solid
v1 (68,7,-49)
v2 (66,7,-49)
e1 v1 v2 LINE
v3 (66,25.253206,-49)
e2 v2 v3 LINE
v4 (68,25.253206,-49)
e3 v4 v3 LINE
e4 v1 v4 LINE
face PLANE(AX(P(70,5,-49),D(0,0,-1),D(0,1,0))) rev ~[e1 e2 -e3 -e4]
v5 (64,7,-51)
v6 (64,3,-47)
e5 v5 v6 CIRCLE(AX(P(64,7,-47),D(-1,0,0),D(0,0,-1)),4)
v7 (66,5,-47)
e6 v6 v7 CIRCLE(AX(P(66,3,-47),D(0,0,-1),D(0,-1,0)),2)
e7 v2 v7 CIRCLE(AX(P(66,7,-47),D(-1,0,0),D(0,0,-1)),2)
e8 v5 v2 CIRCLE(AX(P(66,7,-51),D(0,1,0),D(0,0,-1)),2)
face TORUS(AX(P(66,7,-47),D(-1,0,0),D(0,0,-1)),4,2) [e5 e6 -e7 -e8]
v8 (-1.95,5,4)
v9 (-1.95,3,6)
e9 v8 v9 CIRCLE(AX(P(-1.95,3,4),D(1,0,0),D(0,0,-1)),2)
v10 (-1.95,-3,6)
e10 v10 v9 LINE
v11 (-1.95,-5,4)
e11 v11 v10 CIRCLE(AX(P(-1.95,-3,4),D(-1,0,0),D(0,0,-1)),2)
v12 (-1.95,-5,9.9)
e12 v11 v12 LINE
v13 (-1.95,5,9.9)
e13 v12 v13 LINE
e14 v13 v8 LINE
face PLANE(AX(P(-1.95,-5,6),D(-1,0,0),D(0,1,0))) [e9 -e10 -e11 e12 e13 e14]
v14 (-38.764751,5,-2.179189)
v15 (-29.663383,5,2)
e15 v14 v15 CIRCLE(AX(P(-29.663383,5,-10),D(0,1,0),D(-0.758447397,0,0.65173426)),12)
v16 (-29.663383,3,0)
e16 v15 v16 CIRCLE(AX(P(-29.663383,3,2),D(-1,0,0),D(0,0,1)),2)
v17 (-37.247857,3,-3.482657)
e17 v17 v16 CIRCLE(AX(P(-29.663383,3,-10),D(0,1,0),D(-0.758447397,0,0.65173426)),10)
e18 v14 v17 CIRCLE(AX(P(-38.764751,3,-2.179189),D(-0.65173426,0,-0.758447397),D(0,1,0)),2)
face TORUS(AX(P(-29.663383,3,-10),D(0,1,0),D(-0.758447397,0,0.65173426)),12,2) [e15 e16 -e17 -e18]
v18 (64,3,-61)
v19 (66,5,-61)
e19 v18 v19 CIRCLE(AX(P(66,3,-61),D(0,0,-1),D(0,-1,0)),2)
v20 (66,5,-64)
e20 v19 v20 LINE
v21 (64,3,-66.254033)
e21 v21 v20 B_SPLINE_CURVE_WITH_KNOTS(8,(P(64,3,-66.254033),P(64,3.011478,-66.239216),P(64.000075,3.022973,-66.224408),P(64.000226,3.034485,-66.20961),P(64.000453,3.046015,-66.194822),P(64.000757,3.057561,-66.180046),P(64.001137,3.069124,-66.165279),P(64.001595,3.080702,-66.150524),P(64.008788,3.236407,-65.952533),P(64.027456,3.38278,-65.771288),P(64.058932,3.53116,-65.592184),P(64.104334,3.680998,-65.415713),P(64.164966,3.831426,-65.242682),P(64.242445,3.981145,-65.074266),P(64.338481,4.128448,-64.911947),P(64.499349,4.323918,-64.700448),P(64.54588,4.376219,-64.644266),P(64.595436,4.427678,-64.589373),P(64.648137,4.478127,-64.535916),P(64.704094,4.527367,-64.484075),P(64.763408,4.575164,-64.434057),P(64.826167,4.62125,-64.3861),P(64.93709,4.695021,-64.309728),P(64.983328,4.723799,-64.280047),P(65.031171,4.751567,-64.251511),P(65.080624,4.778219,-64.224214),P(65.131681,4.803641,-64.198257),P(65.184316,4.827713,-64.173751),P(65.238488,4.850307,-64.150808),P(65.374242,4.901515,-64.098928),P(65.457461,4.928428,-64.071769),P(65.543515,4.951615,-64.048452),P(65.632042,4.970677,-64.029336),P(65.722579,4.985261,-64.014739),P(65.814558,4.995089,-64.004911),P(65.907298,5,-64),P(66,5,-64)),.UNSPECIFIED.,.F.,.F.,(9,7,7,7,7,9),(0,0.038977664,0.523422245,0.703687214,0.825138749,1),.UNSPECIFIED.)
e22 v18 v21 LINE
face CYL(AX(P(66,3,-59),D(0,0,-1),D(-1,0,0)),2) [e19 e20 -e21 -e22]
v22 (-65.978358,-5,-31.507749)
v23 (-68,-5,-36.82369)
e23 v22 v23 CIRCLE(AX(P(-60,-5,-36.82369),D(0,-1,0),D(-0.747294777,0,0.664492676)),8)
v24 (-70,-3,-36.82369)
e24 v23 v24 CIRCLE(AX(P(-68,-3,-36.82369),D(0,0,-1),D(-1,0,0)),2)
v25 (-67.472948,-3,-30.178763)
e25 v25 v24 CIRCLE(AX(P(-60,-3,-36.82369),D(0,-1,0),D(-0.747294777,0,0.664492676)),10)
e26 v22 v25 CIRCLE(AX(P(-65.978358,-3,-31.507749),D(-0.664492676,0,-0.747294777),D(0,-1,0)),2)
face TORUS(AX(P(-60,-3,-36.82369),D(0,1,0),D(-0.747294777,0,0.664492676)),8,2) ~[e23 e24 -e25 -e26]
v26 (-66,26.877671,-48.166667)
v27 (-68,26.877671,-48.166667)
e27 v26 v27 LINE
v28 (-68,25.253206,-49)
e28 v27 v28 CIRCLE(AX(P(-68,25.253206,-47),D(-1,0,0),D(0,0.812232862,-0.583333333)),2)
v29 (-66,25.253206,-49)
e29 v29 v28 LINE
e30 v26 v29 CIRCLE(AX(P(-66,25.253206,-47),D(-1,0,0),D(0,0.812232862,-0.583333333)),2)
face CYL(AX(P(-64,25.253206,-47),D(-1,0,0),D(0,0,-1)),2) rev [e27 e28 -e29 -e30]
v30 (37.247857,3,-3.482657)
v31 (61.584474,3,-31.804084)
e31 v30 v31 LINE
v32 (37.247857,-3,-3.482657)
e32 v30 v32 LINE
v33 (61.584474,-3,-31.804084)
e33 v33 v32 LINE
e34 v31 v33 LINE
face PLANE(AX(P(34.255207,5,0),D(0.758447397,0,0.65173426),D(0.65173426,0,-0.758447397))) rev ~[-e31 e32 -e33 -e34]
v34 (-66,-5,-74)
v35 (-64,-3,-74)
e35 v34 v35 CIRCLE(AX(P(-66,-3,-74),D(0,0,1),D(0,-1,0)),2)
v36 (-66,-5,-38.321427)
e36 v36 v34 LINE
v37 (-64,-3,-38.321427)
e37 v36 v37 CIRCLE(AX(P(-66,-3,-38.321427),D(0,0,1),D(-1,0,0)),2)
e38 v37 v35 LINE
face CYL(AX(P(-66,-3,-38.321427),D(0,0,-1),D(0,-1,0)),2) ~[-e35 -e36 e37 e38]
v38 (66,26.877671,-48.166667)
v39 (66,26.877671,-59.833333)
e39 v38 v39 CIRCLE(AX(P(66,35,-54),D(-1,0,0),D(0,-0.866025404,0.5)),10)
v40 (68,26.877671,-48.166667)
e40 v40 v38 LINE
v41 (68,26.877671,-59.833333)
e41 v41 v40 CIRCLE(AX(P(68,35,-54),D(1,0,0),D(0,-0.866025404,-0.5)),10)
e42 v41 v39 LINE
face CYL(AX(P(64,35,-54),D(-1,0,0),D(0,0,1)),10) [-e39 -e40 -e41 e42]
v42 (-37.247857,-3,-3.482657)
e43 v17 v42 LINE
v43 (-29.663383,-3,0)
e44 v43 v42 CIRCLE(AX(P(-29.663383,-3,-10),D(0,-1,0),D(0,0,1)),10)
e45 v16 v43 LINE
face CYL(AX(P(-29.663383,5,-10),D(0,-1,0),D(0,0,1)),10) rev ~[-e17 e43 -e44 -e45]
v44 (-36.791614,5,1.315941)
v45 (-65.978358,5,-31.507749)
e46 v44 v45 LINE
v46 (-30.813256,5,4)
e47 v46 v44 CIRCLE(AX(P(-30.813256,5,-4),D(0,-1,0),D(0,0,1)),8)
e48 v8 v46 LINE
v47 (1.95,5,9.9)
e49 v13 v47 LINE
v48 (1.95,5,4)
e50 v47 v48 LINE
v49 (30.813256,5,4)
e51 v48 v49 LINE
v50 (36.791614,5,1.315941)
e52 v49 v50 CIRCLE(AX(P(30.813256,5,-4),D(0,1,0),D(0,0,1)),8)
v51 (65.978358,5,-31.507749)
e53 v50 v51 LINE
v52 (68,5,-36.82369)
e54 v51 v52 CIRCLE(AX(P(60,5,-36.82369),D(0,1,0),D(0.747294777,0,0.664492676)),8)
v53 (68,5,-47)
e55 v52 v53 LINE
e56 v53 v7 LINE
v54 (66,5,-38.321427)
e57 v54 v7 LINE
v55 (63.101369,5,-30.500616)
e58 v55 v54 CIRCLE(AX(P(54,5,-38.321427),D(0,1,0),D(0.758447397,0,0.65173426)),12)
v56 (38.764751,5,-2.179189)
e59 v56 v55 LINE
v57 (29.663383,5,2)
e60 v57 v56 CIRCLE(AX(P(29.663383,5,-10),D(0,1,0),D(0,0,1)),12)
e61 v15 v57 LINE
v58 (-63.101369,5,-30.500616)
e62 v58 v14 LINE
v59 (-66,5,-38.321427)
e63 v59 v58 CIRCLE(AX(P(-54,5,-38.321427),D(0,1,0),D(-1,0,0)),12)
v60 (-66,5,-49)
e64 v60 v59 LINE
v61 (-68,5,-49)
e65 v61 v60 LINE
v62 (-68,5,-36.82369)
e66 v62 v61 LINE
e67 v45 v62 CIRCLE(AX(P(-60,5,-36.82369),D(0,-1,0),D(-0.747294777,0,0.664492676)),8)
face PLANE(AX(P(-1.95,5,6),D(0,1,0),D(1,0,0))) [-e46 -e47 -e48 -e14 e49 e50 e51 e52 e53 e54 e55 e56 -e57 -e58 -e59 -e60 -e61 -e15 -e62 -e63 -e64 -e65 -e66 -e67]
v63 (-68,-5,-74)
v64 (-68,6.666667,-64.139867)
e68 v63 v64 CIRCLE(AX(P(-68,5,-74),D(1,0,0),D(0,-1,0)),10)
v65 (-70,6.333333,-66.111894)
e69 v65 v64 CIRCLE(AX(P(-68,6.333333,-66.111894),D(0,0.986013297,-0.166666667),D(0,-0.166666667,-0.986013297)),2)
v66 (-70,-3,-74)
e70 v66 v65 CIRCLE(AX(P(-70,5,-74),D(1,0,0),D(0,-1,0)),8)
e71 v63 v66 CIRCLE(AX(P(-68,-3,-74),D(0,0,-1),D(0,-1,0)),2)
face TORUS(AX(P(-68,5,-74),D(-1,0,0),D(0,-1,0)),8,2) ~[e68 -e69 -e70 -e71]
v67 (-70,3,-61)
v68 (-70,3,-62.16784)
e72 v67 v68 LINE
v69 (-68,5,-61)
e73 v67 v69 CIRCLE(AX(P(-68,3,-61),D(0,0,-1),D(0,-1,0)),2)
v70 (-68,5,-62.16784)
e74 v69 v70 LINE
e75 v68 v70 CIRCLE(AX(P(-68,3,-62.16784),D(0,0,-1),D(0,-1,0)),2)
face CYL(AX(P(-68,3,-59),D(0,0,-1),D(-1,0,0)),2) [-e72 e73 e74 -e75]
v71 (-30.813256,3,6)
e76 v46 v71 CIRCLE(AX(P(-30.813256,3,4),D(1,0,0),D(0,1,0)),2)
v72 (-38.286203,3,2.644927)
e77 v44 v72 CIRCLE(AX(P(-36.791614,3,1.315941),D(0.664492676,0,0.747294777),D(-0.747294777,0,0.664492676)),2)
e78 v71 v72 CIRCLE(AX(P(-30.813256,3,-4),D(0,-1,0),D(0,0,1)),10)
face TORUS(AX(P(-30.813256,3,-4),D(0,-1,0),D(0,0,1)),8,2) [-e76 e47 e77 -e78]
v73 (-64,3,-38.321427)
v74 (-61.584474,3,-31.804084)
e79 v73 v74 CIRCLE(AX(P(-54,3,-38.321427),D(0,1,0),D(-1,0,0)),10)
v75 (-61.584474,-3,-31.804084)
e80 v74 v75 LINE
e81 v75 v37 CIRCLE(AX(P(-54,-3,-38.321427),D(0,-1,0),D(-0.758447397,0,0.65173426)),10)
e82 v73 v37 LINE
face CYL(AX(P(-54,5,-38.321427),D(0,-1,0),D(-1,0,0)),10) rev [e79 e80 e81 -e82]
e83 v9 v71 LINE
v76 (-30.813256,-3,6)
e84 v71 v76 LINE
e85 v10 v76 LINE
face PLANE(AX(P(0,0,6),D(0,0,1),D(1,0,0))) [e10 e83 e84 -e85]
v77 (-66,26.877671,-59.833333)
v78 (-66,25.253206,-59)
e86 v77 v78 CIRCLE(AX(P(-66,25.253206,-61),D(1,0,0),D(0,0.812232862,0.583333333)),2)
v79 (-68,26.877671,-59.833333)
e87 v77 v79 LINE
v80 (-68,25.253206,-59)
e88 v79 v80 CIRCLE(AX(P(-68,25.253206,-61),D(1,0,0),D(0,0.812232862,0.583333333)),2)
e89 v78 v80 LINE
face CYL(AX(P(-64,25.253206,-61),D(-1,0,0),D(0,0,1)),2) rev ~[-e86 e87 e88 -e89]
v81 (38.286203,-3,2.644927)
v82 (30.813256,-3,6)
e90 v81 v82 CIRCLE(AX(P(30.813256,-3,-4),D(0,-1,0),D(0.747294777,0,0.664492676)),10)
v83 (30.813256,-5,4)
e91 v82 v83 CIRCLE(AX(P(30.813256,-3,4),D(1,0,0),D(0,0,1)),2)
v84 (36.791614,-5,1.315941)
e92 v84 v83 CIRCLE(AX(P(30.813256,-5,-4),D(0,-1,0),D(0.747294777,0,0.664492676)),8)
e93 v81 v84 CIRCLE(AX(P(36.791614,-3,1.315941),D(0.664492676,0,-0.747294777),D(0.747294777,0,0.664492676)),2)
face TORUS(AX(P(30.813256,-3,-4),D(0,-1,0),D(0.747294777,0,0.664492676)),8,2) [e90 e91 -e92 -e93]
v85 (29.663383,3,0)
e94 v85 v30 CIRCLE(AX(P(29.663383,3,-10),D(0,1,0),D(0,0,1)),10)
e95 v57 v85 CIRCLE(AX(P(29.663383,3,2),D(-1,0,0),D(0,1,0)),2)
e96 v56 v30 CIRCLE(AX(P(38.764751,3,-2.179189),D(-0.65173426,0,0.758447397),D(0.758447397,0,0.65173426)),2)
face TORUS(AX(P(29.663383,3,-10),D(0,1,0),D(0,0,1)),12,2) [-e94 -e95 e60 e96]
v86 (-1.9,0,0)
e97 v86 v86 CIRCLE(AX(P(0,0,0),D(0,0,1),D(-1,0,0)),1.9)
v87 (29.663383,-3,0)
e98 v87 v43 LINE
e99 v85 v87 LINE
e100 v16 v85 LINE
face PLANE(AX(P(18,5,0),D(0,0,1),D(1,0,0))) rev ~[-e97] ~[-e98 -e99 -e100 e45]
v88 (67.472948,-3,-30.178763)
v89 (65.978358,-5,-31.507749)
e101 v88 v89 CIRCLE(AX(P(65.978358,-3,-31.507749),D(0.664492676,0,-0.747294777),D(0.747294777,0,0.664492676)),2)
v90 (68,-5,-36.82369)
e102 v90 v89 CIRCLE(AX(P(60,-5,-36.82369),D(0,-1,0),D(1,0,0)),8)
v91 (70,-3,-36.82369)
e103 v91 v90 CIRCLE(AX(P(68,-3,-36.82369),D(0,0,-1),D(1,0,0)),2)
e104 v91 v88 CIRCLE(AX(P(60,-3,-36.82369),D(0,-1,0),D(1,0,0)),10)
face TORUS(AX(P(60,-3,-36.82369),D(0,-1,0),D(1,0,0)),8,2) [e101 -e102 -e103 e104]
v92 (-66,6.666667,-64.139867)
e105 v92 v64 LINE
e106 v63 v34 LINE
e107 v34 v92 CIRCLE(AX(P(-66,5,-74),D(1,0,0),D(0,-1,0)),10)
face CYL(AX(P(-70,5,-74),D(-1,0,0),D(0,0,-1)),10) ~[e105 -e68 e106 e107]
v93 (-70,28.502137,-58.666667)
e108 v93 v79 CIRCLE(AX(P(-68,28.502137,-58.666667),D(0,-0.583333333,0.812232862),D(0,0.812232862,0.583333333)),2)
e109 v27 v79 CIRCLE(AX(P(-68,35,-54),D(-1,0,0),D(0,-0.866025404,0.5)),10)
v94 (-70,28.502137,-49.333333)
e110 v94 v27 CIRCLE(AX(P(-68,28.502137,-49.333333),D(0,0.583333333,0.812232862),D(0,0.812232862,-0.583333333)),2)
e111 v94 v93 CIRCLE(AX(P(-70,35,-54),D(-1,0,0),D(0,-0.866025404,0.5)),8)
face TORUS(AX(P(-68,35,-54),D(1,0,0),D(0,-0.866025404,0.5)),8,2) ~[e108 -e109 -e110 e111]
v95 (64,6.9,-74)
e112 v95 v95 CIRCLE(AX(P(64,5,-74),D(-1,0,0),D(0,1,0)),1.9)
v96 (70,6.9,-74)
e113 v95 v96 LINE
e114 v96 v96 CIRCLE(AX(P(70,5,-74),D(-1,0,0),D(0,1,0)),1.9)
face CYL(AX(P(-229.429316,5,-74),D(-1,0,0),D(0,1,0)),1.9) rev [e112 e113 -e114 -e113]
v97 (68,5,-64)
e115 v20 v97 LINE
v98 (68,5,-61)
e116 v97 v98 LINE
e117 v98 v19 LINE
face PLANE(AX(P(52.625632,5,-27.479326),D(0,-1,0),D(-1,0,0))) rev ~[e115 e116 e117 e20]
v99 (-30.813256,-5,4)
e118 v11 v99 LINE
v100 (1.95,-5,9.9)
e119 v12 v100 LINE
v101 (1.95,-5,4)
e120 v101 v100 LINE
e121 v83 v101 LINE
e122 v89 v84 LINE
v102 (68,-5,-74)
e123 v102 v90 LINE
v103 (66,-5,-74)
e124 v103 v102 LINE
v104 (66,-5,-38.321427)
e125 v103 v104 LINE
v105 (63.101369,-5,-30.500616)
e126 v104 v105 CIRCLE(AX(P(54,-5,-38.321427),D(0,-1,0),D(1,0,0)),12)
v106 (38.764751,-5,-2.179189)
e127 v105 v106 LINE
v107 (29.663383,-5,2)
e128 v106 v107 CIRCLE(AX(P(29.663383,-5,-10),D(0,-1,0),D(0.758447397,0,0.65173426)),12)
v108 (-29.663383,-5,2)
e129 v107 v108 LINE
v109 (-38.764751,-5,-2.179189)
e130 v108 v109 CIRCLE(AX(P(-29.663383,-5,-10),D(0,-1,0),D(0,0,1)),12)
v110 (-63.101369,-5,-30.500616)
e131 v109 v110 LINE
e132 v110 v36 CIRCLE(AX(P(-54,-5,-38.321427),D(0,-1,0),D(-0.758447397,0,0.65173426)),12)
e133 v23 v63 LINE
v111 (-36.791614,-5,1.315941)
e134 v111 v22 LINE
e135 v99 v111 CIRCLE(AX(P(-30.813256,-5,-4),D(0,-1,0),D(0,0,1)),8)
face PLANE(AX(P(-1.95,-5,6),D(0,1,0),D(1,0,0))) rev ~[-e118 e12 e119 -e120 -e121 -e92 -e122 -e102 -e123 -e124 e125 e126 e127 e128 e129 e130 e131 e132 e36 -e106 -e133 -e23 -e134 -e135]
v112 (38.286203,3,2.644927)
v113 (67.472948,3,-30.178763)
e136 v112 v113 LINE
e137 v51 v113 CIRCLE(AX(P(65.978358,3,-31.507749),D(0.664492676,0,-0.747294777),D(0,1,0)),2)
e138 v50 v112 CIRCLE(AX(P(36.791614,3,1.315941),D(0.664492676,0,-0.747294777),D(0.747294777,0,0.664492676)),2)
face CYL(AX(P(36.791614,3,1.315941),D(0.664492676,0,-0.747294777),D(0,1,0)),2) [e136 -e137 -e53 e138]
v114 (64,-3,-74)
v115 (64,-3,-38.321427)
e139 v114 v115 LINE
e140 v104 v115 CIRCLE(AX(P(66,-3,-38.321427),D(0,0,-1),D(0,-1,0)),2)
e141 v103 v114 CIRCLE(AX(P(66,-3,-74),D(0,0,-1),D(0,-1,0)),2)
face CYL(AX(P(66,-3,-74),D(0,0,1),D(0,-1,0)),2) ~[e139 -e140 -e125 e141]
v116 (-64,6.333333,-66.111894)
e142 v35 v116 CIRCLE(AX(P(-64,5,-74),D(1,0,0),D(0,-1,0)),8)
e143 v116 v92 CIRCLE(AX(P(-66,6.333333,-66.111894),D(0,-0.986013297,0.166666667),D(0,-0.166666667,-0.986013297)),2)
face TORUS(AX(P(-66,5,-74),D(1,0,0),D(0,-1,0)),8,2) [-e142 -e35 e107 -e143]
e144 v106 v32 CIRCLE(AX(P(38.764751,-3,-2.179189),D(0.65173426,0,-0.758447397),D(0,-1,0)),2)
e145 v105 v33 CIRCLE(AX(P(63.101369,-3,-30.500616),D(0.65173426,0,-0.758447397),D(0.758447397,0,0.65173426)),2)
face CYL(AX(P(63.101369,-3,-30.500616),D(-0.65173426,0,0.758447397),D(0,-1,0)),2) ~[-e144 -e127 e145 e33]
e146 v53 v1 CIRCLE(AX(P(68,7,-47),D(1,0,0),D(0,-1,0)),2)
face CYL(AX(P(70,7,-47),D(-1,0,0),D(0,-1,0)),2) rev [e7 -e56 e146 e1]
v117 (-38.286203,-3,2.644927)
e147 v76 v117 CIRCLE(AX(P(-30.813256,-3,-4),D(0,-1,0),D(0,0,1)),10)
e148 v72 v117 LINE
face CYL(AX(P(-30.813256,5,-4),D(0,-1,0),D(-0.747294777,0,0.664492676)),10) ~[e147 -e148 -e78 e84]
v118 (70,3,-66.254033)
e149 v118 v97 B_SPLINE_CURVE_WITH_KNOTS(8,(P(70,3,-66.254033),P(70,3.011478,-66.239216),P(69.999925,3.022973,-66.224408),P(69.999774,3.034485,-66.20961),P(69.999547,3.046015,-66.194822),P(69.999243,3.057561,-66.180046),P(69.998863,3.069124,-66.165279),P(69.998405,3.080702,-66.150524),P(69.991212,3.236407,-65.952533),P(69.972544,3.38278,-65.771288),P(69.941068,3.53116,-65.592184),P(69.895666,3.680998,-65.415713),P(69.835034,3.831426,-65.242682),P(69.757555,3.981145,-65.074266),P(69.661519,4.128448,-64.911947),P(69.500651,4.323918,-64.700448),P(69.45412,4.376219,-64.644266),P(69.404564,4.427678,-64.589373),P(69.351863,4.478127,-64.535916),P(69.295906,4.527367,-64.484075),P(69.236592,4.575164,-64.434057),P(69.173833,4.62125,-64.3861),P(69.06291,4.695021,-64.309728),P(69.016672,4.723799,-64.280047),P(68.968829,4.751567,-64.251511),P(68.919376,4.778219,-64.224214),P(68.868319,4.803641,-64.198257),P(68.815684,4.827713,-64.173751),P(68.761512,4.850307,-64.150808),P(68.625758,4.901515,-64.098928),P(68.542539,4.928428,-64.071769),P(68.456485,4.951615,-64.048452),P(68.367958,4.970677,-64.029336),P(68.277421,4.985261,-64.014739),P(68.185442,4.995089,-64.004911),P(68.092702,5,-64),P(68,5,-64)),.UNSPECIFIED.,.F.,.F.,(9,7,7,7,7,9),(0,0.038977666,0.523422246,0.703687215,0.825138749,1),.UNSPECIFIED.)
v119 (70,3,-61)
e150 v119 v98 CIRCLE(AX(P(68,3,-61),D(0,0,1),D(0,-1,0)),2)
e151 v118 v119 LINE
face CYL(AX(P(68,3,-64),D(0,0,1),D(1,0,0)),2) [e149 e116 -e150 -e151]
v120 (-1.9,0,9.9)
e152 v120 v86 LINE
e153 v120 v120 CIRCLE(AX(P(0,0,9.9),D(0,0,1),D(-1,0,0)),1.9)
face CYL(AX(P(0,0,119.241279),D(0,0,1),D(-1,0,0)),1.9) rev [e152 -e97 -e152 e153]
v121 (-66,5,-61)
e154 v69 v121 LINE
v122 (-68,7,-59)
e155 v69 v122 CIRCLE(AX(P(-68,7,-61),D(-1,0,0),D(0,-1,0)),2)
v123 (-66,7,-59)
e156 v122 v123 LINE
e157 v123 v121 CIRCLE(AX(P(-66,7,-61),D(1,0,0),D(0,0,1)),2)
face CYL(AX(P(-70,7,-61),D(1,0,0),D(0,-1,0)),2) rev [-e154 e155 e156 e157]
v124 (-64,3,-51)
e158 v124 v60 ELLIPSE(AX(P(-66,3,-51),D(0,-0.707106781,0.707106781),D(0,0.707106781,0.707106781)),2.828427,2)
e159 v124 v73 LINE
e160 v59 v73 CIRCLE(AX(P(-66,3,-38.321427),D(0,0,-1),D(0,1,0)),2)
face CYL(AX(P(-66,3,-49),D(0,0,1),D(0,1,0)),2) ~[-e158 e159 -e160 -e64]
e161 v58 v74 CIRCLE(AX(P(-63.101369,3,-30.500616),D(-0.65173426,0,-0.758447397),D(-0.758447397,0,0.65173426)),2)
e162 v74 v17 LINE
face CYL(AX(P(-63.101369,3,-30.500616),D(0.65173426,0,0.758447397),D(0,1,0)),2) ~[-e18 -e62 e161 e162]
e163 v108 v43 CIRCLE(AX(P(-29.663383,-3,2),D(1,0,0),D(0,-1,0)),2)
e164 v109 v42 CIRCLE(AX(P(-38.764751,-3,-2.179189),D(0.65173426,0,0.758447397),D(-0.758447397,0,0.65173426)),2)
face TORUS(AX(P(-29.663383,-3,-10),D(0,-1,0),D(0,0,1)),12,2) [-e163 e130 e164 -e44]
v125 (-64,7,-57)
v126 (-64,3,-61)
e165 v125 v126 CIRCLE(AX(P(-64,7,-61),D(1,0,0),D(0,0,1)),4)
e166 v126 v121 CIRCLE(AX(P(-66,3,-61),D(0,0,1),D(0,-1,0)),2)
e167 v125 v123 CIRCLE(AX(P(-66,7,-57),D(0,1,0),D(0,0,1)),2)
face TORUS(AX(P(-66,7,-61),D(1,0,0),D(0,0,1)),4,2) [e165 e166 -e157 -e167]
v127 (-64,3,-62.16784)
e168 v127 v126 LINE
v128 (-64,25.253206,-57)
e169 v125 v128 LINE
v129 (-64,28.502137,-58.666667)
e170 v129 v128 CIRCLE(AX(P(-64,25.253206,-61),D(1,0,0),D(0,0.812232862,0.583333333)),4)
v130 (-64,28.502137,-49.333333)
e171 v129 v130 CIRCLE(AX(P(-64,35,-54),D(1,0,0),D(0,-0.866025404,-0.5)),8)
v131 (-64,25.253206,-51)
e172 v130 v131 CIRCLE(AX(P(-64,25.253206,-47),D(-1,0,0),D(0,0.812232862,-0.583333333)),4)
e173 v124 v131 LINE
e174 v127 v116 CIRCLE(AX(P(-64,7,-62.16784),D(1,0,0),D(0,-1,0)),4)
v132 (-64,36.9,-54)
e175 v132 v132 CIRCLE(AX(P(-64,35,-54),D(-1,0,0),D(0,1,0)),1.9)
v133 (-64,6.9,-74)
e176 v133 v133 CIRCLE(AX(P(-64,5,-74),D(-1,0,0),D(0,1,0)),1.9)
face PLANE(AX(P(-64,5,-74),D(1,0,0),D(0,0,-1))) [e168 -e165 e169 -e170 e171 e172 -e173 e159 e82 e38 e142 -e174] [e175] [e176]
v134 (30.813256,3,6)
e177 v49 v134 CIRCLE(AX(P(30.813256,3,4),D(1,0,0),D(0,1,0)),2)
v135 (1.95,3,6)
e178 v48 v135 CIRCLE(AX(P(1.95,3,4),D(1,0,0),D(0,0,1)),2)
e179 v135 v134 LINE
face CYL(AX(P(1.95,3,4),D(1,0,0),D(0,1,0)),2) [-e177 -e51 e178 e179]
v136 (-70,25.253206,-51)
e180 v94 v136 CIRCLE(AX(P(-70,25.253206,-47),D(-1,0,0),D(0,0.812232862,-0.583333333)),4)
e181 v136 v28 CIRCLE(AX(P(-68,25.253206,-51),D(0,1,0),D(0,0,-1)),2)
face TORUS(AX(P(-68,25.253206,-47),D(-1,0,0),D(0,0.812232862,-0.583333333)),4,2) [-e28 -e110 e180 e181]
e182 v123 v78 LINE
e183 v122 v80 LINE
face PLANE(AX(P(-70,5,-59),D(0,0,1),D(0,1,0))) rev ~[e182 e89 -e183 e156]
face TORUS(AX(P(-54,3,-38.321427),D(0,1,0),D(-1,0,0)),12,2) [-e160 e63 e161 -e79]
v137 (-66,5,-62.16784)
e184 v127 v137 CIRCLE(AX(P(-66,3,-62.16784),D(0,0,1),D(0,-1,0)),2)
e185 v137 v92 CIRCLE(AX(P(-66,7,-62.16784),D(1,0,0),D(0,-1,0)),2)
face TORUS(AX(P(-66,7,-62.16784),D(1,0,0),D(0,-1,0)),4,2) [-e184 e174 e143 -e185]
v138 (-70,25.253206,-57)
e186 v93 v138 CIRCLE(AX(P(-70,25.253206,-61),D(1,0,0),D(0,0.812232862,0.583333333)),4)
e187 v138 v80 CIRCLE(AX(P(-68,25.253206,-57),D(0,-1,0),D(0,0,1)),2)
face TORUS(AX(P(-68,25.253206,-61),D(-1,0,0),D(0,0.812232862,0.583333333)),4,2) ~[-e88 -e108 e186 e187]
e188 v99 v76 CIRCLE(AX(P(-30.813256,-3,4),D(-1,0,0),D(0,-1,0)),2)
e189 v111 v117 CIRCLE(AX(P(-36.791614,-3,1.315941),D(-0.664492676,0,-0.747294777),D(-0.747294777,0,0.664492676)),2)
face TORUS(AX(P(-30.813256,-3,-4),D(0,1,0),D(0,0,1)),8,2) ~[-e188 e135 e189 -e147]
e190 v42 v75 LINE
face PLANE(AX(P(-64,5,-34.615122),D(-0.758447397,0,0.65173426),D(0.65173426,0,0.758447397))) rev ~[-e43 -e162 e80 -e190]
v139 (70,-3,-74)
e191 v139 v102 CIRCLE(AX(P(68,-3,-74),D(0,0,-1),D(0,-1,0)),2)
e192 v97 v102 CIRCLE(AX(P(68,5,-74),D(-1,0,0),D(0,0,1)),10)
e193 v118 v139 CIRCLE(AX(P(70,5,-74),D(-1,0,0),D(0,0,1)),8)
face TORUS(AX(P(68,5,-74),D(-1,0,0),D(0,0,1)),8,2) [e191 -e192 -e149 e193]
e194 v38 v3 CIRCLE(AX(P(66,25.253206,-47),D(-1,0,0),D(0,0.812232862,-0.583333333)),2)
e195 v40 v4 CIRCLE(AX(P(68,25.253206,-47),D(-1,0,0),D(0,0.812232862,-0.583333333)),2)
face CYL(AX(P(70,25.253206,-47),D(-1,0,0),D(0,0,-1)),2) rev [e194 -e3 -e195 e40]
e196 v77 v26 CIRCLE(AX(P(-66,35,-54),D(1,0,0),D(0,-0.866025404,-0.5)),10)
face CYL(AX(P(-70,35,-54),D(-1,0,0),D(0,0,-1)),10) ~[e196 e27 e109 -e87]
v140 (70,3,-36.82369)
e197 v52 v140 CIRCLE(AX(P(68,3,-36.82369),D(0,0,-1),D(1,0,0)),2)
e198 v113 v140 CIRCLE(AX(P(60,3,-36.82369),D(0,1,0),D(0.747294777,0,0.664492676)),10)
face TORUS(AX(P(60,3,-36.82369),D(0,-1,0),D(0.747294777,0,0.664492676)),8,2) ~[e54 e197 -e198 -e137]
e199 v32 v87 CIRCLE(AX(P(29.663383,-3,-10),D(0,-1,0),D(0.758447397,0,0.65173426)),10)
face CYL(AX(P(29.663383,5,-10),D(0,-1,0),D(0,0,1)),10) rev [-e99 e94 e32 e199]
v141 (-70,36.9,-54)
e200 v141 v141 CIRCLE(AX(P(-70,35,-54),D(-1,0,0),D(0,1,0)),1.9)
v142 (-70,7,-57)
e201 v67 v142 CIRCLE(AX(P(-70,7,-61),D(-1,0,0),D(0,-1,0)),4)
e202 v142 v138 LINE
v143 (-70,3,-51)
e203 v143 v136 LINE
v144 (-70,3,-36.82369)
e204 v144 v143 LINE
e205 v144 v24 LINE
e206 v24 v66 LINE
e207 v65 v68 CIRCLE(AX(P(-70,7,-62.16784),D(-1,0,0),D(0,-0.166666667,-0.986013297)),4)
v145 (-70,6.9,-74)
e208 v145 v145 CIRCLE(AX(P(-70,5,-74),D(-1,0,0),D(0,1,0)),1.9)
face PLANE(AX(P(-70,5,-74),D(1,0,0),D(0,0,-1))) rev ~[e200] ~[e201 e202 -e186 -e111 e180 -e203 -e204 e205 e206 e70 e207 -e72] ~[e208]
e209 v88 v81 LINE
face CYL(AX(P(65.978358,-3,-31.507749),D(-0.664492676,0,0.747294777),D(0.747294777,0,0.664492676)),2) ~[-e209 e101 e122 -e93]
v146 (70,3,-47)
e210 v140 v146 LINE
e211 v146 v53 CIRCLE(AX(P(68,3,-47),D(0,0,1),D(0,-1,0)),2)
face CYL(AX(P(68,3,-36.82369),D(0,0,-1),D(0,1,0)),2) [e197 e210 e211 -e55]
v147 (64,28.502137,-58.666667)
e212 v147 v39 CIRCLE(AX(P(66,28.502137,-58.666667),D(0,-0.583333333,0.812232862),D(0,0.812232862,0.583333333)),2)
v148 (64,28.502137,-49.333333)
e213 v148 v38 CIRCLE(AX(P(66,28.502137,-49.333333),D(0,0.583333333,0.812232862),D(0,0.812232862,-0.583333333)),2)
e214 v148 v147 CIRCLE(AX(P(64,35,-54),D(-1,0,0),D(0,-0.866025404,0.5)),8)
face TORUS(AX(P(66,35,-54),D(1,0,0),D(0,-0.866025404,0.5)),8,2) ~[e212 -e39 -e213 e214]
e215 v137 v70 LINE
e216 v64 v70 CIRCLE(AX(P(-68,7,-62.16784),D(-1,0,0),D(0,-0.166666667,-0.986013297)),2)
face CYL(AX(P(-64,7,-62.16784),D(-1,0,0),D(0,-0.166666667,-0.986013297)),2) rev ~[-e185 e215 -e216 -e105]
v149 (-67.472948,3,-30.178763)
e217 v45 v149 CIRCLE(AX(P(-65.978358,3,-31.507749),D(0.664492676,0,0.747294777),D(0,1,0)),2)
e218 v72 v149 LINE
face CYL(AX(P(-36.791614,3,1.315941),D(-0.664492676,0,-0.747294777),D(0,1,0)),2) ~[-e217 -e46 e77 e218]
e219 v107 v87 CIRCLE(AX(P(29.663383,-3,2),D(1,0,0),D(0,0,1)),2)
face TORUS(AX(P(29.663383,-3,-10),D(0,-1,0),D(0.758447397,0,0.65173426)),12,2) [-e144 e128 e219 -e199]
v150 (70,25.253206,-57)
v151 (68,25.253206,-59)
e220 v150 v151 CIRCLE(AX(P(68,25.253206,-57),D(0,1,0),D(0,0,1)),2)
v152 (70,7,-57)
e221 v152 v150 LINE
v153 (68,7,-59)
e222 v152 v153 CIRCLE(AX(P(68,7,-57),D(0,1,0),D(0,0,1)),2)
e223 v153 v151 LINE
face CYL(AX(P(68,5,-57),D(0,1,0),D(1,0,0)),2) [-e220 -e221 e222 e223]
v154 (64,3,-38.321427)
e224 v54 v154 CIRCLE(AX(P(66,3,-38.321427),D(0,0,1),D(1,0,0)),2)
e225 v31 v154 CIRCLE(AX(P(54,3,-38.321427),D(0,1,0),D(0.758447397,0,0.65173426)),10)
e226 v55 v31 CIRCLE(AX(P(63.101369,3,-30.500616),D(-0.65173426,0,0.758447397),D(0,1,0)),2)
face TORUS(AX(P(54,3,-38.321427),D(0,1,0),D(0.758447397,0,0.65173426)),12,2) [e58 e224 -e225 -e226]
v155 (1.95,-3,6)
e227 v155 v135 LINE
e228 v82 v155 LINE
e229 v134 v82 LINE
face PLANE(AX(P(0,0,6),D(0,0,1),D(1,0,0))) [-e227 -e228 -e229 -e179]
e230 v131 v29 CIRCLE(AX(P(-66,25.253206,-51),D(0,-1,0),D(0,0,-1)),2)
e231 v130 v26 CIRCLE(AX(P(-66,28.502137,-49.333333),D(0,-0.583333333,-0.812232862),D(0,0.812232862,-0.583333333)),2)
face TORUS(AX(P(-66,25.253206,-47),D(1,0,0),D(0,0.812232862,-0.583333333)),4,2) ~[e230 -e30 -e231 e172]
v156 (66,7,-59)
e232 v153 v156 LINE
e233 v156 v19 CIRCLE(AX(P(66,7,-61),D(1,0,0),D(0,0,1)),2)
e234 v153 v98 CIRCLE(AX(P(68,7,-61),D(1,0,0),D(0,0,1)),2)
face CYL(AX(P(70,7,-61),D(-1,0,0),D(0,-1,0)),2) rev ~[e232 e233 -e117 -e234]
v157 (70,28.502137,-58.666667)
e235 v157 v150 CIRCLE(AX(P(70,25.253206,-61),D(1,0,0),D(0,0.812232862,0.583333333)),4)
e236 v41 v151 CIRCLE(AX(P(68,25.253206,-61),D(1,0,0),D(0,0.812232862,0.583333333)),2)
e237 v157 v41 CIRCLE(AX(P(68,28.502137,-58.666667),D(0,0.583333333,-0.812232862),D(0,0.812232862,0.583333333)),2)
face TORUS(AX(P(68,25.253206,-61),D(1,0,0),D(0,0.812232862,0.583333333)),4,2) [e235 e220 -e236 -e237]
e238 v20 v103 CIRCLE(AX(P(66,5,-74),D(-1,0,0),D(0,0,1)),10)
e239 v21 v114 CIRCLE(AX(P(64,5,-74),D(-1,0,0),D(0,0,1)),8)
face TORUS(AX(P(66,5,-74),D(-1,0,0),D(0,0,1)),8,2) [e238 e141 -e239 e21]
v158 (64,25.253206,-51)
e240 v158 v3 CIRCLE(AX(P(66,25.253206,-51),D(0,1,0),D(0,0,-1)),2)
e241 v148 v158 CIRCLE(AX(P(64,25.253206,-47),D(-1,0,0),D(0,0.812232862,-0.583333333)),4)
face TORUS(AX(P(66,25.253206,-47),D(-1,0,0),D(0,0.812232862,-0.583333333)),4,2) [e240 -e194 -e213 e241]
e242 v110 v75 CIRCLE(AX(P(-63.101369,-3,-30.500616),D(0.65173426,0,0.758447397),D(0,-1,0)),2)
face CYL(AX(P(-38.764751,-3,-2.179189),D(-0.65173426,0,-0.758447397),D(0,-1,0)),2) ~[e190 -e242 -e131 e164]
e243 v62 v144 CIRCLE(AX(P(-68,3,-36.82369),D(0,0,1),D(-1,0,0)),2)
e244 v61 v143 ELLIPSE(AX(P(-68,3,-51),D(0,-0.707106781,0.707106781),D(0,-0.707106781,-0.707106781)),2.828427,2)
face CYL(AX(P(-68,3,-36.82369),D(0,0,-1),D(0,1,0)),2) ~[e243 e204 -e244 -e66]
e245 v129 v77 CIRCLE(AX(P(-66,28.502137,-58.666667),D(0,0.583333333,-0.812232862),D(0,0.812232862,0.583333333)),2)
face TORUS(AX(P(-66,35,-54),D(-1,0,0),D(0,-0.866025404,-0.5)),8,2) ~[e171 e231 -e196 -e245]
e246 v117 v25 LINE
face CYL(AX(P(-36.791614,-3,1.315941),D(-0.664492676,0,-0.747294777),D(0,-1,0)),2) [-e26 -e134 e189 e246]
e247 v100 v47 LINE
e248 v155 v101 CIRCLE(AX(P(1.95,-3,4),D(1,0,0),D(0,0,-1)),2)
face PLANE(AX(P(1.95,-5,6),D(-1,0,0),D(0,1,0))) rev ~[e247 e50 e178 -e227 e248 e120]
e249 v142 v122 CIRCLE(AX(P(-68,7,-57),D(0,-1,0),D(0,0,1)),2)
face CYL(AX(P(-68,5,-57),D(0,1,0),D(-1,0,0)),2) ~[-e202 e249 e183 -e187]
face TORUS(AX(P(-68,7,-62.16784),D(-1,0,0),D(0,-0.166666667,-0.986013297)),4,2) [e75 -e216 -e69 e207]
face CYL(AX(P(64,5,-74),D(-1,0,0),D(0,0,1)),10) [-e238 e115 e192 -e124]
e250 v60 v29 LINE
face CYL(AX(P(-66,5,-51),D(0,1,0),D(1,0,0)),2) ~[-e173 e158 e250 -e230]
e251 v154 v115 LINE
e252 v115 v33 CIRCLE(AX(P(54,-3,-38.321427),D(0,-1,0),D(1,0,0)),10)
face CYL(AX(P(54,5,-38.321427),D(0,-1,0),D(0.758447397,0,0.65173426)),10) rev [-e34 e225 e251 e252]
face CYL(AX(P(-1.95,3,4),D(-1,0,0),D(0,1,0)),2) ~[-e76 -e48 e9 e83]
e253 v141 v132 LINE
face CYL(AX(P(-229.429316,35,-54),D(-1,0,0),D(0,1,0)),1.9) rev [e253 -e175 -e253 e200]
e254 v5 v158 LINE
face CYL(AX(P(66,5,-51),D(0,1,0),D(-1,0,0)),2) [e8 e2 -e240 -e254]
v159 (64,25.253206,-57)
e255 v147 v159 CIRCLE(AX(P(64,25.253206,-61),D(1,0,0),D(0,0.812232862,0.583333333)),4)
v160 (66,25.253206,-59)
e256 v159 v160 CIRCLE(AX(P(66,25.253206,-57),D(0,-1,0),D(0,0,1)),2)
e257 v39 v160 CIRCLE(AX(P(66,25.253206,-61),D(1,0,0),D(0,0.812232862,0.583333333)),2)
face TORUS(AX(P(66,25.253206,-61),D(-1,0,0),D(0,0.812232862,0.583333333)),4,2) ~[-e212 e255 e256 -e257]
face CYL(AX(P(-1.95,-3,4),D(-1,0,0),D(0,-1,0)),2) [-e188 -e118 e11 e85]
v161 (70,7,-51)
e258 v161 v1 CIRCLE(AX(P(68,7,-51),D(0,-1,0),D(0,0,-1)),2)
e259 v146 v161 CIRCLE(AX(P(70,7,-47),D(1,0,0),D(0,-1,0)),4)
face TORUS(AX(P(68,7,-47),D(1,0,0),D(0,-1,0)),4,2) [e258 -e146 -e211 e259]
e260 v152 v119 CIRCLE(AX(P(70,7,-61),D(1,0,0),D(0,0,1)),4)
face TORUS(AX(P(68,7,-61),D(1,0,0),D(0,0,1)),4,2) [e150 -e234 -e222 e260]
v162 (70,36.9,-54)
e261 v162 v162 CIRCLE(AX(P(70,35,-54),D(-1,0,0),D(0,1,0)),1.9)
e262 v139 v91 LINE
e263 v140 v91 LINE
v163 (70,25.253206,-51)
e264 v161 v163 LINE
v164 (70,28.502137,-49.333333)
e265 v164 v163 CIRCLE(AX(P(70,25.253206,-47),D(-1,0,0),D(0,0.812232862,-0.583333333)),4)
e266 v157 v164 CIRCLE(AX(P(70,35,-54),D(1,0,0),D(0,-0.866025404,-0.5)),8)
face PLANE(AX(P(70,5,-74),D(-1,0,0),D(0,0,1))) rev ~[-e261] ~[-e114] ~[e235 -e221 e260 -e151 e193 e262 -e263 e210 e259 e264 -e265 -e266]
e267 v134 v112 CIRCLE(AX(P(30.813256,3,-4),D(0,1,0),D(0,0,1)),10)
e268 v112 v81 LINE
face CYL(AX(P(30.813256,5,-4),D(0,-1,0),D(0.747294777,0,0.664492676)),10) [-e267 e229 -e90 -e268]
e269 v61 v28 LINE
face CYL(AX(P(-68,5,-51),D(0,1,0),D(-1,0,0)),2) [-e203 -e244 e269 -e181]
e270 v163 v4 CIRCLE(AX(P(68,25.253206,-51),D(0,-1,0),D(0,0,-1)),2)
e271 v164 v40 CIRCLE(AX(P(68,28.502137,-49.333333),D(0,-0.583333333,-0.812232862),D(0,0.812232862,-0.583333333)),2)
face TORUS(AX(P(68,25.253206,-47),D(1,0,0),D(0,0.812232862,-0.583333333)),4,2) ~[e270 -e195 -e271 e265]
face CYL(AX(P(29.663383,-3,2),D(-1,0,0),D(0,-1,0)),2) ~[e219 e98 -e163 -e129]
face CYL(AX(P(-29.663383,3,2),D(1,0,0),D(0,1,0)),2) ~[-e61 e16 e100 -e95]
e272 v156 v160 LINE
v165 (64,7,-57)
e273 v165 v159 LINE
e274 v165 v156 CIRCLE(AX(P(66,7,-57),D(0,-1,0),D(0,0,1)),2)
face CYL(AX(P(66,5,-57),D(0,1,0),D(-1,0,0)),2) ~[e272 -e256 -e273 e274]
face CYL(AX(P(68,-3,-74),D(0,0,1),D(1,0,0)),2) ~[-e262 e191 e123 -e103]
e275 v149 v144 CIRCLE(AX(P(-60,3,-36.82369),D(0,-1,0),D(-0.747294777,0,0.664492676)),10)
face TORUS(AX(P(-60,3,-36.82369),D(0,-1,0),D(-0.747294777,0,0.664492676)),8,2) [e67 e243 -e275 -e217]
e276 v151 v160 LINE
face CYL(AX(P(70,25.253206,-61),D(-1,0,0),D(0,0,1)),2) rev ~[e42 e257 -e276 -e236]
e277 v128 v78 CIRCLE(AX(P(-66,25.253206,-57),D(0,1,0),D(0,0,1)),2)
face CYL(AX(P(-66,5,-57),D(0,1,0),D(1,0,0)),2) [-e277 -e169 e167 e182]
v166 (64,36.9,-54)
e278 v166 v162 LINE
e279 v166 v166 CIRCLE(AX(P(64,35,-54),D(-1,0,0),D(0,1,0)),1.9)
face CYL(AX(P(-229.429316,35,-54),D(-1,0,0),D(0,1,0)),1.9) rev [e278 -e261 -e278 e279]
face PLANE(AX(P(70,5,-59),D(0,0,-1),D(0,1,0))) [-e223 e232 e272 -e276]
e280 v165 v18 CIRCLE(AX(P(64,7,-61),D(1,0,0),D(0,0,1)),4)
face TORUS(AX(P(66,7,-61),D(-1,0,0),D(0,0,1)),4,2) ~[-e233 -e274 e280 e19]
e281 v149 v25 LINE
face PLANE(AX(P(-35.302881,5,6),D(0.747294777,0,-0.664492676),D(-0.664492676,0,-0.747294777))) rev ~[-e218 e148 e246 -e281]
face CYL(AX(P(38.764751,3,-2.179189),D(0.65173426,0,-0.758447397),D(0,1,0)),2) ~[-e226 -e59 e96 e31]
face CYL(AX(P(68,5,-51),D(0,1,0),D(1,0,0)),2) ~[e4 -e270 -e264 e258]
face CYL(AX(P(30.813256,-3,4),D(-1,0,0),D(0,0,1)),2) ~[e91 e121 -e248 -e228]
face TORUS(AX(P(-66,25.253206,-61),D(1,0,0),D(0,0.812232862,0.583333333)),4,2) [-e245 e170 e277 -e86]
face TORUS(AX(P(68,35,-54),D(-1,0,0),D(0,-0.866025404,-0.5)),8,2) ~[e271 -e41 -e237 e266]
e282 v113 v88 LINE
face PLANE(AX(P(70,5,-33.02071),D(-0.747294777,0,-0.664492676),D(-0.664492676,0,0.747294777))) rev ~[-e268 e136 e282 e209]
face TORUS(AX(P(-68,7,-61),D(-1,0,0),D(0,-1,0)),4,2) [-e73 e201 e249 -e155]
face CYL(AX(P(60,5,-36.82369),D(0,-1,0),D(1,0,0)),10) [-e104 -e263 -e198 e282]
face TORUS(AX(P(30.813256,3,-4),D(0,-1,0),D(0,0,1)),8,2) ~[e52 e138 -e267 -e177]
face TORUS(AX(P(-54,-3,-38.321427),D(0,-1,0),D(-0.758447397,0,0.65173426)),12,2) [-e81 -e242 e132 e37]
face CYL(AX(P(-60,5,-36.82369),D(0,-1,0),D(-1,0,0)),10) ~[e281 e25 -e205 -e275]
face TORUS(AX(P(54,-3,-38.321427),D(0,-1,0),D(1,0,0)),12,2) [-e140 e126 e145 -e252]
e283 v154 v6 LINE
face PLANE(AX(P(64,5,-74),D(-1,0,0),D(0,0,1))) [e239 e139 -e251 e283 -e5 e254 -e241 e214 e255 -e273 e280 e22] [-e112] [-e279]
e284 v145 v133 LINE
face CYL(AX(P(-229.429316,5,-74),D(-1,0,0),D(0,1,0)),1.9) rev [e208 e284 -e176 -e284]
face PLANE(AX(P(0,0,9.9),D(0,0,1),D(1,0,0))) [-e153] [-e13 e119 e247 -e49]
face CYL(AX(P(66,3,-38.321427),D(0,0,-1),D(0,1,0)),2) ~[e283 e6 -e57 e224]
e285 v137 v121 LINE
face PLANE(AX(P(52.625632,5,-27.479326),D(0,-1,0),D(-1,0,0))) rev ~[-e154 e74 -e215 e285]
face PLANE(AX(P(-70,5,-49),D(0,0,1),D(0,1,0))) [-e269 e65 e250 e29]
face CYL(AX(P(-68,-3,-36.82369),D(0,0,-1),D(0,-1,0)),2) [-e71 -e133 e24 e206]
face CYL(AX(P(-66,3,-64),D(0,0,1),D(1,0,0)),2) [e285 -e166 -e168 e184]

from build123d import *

# Parameters (mm, degrees)
SKETCH1_W                = 36
SKETCH1_H                = 10
BOSS_EXTRUDE1_DEPTH      = 6
BOSS_EXTRUDE2_DEPTH      = 3.8
BOSS_EXTRUDE3_DEPTH      = 10
BOSS_EXTRUDE4_DEPTH      = 3
BOSS_EXTRUDE4_DEPTH_BACK = 3
SKETCH8_W                = 10
SKETCH8_H                = 30
BOSS_EXTRUDE5_DEPTH      = 3
BOSS_EXTRUDE5_DEPTH_BACK = 3
SKETCH12_W               = 10
SKETCH12_H               = 30
SKETCH13_R               = 10
BOSS_EXTRUDE6_DEPTH      = 6
BOSS_EXTRUDE7_START      = -6
SKETCH14_R               = 10
BOSS_EXTRUDE7_DEPTH      = 6
CUT_EXTRUDE2_DEPTH       = 165.429316121
CUT_EXTRUDE2_DEPTH_BACK  = 165.429316121
SKETCH15_R               = 1.9
CUT_EXTRUDE3_DEPTH       = 165.429316121
CUT_EXTRUDE3_DEPTH_BACK  = 165.429316121
SKETCH16_R               = 1.9
FILLET1_R                = 10
FILLET2_R                = 10
SKETCH17_W               = 64.37215868
SKETCH17_H               = 11.062194897
CUT_EXTRUDE4_DEPTH       = 10
SKETCH21_W               = 3.9
SKETCH21_H               = 10
BOSS_EXTRUDE8_DEPTH      = 3.9
CUT_EXTRUDE11_DEPTH      = 119.241278748
CUT_EXTRUDE11_DEPTH_BACK = 119.241278748
SKETCH23_R               = 1.9
FILLET4_R                = 2


with BuildPart() as part:
    # Sketch1 → Boss-Extrude1 (new body)
    with BuildSketch(Plane.XY):
        Rectangle(SKETCH1_W, SKETCH1_H)
    extrude(amount=BOSS_EXTRUDE1_DEPTH)

    # Sketch2 → Boss-Extrude2 (add)
    with BuildSketch(Plane.XY.offset(6)):
        Polygon((-18, -1.9), (-1.9, -1.9), (-1.9, -5), (1.9, -5), (1.9, -1.9), (18, -1.9), (18, 1.9), (1.9, 1.9), (1.9, 5), (-1.9, 5), (-1.9, 1.9), (-18, 1.9), align=None)
    extrude(amount=BOSS_EXTRUDE2_DEPTH)

    # Sketch5 → Boss-Extrude3 (add)
    with BuildSketch(Plane(origin=(0, 5, 0), x_dir=(1, 0, 0), z_dir=(0, 1, 0))):
        Polygon((18, -6), (18, 0), (34.255207255, 0), (64, 34.615121527), (64, 74), (70, 74), (70, 33.020710158), (35.302880567, -6), align=None)
        Polygon((-64, 74), (-64, 34.615121527), (-34.255207255, 0), (-18, 0), (-18, -6), (-35.302880567, -6), (-70, 33.020710158), (-70, 74), align=None)
    extrude(amount=-BOSS_EXTRUDE3_DEPTH)

    # Sketch8 → Boss-Extrude4 (add, two sides: drawn at the far end of the back side and taken through both)
    with BuildSketch(Plane.ZY.offset(-67).offset(-BOSS_EXTRUDE4_DEPTH_BACK)):
        with Locations((-54, 20)):
            Rectangle(SKETCH8_W, SKETCH8_H)
    extrude(amount=BOSS_EXTRUDE4_DEPTH + BOSS_EXTRUDE4_DEPTH_BACK)

    # Sketch12 → Boss-Extrude5 (add, two sides: drawn at the far end of the back side and taken through both)
    with BuildSketch(Plane(origin=(-67, 0, 0), x_dir=(0, 0, -1), z_dir=(1, 0, 0)).offset(-BOSS_EXTRUDE5_DEPTH_BACK)):
        with Locations((54, 20)):
            Rectangle(SKETCH12_W, SKETCH12_H)
    extrude(amount=BOSS_EXTRUDE5_DEPTH + BOSS_EXTRUDE5_DEPTH_BACK)

    # Sketch13 → Boss-Extrude6 (add)
    with BuildSketch(Plane.ZY.offset(-64)):
        with Locations((-74, 5)):
            Circle(SKETCH13_R)
        with Locations((-54, 35)):
            Circle(SKETCH13_R)
    extrude(amount=-BOSS_EXTRUDE6_DEPTH)

    # Sketch14 → Boss-Extrude7 (add)
    with BuildSketch(Plane(origin=(-64, 0, 0), x_dir=(0, 0, -1), z_dir=(1, 0, 0)).offset(BOSS_EXTRUDE7_START)):
        with Locations((74, 5)):
            Circle(SKETCH14_R)
        with Locations((54, 35)):
            Circle(SKETCH14_R)
    extrude(amount=BOSS_EXTRUDE7_DEPTH)

    # Sketch15 → Cut-Extrude2 (cut, two sides: drawn at the far end of the back side and taken through both)
    with BuildSketch(Plane(origin=(-64, 0, 0), x_dir=(0, 0, -1), z_dir=(1, 0, 0)).offset(-CUT_EXTRUDE2_DEPTH_BACK)):
        with Locations((54, 35)):
            Circle(SKETCH15_R)
    extrude(amount=CUT_EXTRUDE2_DEPTH + CUT_EXTRUDE2_DEPTH_BACK, mode=Mode.SUBTRACT)

    # Sketch16 → Cut-Extrude3 (cut, two sides: drawn at the far end of the back side and taken through both)
    with BuildSketch(Plane(origin=(-64, 0, 0), x_dir=(0, 0, -1), z_dir=(1, 0, 0)).offset(-CUT_EXTRUDE3_DEPTH_BACK)):
        with Locations((74, 5)):
            Circle(SKETCH16_R)
    extrude(amount=CUT_EXTRUDE3_DEPTH + CUT_EXTRUDE3_DEPTH_BACK, mode=Mode.SUBTRACT)

    # Fillet1
    fillet1_edges = [part.edges().sort_by_distance(p)[0] for p in [
        (64, 0, -34.615121527),
        (34.255207255, 0, 0),
        (-34.255207255, 0, 0),
        (-64, 0, -34.615121527),
    ]]
    fillet(fillet1_edges, radius=FILLET1_R)

    # Fillet2
    fillet2_edges = [part.edges().sort_by_distance(p)[0] for p in [
        (-70, 0, -33.020710158),
        (70, 0, -33.020710158),
        (35.302880567, 0, 6),
        (-35.302880567, 0, 6),
    ]]
    fillet(fillet2_edges, radius=FILLET2_R)

    # Sketch17 → Cut-Extrude4 (cut)
    with BuildSketch(Plane(origin=(0, 5, 0), x_dir=(1, 0, 0), z_dir=(0, 1, 0))):
        with Locations((1.372823675, -11.531097449)):
            Rectangle(SKETCH17_W, SKETCH17_H)
    extrude(amount=-CUT_EXTRUDE4_DEPTH, mode=Mode.SUBTRACT)

    # Sketch21 → Boss-Extrude8 (add)
    with BuildSketch(Plane.XY.offset(6)):
        Rectangle(SKETCH21_W, SKETCH21_H)
    extrude(amount=BOSS_EXTRUDE8_DEPTH)

    # Sketch23 → Cut-Extrude11 (cut, two sides: drawn at the far end of the back side and taken through both)
    with BuildSketch(Plane(origin=(0, 0, 0), x_dir=(-1, 0, 0), z_dir=(0, 0, -1)).offset(-CUT_EXTRUDE11_DEPTH_BACK)):
        Circle(SKETCH23_R)
    extrude(amount=CUT_EXTRUDE11_DEPTH + CUT_EXTRUDE11_DEPTH_BACK, mode=Mode.SUBTRACT)

    # Fillet4
    fillet4_edges = [part.edges().sort_by_distance(p)[0] for p in [
        (-70, 15.669872981, -49),
        (-64, 15.669872981, -49),
        (-70, 15.669872981, -59),
        (-64, 15.669872981, -59),
        (70, 5, -61.5),
        (64, 5, -61.5),
        (64, 12.071067812, -81.071067812),
        (64, -5, -56.160713328),
        (63.376692905, -5, -34.846138155),
        (49.416165308, -5, -17.643370723),
        (33.836305753, -5, -0.912276797),
        (0, -5, 0),
        (-33.836305753, -5, -0.912276797),
        (-64, 12.071067812, -81.071067812),
        (-64, -5, -56.160713328),
        (-63.376692905, -5, -34.846138155),
        (63.376692905, 5, -34.846138155),
        (49.416165308, 5, -17.643370723),
        (33.836305753, 5, -0.912276797),
        (-64, 5, -43.660713328),
        (-63.376692905, 5, -34.846138155),
        (-49.416165308, 5, -17.643370723),
        (-33.836305753, 5, -0.912276797),
        (70, 12.071067812, -81.071067812),
        (70, -5, -55.411844985),
        (69.346910657, -5, -33.269078717),
        (52.8795756, -5, -13.766918223),
        (34.909029852, -5, 5.122753631),
        (-70, 12.071067812, -81.071067812),
        (-70, -5, -55.411844985),
        (-69.346910657, -5, -33.269078717),
        (-52.8795756, -5, -13.766918223),
        (-34.909029852, -5, 5.122753631),
        (-70, 5, -42.911844985),
        (-69.346910657, 5, -33.269078717),
        (-52.8795756, 5, -13.766918223),
        (-34.909029852, 5, 5.122753631),
        (69.346910657, 5, -33.269078717),
        (52.8795756, 5, -13.766918223),
        (34.909029852, 5, 5.122753631),
        (-67, 26.339745962, -49),
        (-70, 45, -54),
        (-67, 26.339745962, -59),
        (-64, 45, -54),
        (-67, 5, -59),
        (-70, 5, -61.5),
        (-67, 5, -64),
        (-64, 5, -61.5),
        (67, 5, -59),
        (70, 15.669872981, -59),
        (67, 26.339745962, -59),
        (64, 15.669872981, -59),
        (70, 15.669872981, -49),
        (67, 5, -49),
        (64, 15.669872981, -49),
        (67, 26.339745962, -49),
        (64, 45, -54),
        (70, 45, -54),
        (-49.416165308, -5, -17.643370723),
        (0, 5, 0),
        (-16.381627833, -5, 6),
        (-16.381627833, 5, 6),
    ]]
    fillet(fillet4_edges, radius=FILLET4_R)


solid = part.part
